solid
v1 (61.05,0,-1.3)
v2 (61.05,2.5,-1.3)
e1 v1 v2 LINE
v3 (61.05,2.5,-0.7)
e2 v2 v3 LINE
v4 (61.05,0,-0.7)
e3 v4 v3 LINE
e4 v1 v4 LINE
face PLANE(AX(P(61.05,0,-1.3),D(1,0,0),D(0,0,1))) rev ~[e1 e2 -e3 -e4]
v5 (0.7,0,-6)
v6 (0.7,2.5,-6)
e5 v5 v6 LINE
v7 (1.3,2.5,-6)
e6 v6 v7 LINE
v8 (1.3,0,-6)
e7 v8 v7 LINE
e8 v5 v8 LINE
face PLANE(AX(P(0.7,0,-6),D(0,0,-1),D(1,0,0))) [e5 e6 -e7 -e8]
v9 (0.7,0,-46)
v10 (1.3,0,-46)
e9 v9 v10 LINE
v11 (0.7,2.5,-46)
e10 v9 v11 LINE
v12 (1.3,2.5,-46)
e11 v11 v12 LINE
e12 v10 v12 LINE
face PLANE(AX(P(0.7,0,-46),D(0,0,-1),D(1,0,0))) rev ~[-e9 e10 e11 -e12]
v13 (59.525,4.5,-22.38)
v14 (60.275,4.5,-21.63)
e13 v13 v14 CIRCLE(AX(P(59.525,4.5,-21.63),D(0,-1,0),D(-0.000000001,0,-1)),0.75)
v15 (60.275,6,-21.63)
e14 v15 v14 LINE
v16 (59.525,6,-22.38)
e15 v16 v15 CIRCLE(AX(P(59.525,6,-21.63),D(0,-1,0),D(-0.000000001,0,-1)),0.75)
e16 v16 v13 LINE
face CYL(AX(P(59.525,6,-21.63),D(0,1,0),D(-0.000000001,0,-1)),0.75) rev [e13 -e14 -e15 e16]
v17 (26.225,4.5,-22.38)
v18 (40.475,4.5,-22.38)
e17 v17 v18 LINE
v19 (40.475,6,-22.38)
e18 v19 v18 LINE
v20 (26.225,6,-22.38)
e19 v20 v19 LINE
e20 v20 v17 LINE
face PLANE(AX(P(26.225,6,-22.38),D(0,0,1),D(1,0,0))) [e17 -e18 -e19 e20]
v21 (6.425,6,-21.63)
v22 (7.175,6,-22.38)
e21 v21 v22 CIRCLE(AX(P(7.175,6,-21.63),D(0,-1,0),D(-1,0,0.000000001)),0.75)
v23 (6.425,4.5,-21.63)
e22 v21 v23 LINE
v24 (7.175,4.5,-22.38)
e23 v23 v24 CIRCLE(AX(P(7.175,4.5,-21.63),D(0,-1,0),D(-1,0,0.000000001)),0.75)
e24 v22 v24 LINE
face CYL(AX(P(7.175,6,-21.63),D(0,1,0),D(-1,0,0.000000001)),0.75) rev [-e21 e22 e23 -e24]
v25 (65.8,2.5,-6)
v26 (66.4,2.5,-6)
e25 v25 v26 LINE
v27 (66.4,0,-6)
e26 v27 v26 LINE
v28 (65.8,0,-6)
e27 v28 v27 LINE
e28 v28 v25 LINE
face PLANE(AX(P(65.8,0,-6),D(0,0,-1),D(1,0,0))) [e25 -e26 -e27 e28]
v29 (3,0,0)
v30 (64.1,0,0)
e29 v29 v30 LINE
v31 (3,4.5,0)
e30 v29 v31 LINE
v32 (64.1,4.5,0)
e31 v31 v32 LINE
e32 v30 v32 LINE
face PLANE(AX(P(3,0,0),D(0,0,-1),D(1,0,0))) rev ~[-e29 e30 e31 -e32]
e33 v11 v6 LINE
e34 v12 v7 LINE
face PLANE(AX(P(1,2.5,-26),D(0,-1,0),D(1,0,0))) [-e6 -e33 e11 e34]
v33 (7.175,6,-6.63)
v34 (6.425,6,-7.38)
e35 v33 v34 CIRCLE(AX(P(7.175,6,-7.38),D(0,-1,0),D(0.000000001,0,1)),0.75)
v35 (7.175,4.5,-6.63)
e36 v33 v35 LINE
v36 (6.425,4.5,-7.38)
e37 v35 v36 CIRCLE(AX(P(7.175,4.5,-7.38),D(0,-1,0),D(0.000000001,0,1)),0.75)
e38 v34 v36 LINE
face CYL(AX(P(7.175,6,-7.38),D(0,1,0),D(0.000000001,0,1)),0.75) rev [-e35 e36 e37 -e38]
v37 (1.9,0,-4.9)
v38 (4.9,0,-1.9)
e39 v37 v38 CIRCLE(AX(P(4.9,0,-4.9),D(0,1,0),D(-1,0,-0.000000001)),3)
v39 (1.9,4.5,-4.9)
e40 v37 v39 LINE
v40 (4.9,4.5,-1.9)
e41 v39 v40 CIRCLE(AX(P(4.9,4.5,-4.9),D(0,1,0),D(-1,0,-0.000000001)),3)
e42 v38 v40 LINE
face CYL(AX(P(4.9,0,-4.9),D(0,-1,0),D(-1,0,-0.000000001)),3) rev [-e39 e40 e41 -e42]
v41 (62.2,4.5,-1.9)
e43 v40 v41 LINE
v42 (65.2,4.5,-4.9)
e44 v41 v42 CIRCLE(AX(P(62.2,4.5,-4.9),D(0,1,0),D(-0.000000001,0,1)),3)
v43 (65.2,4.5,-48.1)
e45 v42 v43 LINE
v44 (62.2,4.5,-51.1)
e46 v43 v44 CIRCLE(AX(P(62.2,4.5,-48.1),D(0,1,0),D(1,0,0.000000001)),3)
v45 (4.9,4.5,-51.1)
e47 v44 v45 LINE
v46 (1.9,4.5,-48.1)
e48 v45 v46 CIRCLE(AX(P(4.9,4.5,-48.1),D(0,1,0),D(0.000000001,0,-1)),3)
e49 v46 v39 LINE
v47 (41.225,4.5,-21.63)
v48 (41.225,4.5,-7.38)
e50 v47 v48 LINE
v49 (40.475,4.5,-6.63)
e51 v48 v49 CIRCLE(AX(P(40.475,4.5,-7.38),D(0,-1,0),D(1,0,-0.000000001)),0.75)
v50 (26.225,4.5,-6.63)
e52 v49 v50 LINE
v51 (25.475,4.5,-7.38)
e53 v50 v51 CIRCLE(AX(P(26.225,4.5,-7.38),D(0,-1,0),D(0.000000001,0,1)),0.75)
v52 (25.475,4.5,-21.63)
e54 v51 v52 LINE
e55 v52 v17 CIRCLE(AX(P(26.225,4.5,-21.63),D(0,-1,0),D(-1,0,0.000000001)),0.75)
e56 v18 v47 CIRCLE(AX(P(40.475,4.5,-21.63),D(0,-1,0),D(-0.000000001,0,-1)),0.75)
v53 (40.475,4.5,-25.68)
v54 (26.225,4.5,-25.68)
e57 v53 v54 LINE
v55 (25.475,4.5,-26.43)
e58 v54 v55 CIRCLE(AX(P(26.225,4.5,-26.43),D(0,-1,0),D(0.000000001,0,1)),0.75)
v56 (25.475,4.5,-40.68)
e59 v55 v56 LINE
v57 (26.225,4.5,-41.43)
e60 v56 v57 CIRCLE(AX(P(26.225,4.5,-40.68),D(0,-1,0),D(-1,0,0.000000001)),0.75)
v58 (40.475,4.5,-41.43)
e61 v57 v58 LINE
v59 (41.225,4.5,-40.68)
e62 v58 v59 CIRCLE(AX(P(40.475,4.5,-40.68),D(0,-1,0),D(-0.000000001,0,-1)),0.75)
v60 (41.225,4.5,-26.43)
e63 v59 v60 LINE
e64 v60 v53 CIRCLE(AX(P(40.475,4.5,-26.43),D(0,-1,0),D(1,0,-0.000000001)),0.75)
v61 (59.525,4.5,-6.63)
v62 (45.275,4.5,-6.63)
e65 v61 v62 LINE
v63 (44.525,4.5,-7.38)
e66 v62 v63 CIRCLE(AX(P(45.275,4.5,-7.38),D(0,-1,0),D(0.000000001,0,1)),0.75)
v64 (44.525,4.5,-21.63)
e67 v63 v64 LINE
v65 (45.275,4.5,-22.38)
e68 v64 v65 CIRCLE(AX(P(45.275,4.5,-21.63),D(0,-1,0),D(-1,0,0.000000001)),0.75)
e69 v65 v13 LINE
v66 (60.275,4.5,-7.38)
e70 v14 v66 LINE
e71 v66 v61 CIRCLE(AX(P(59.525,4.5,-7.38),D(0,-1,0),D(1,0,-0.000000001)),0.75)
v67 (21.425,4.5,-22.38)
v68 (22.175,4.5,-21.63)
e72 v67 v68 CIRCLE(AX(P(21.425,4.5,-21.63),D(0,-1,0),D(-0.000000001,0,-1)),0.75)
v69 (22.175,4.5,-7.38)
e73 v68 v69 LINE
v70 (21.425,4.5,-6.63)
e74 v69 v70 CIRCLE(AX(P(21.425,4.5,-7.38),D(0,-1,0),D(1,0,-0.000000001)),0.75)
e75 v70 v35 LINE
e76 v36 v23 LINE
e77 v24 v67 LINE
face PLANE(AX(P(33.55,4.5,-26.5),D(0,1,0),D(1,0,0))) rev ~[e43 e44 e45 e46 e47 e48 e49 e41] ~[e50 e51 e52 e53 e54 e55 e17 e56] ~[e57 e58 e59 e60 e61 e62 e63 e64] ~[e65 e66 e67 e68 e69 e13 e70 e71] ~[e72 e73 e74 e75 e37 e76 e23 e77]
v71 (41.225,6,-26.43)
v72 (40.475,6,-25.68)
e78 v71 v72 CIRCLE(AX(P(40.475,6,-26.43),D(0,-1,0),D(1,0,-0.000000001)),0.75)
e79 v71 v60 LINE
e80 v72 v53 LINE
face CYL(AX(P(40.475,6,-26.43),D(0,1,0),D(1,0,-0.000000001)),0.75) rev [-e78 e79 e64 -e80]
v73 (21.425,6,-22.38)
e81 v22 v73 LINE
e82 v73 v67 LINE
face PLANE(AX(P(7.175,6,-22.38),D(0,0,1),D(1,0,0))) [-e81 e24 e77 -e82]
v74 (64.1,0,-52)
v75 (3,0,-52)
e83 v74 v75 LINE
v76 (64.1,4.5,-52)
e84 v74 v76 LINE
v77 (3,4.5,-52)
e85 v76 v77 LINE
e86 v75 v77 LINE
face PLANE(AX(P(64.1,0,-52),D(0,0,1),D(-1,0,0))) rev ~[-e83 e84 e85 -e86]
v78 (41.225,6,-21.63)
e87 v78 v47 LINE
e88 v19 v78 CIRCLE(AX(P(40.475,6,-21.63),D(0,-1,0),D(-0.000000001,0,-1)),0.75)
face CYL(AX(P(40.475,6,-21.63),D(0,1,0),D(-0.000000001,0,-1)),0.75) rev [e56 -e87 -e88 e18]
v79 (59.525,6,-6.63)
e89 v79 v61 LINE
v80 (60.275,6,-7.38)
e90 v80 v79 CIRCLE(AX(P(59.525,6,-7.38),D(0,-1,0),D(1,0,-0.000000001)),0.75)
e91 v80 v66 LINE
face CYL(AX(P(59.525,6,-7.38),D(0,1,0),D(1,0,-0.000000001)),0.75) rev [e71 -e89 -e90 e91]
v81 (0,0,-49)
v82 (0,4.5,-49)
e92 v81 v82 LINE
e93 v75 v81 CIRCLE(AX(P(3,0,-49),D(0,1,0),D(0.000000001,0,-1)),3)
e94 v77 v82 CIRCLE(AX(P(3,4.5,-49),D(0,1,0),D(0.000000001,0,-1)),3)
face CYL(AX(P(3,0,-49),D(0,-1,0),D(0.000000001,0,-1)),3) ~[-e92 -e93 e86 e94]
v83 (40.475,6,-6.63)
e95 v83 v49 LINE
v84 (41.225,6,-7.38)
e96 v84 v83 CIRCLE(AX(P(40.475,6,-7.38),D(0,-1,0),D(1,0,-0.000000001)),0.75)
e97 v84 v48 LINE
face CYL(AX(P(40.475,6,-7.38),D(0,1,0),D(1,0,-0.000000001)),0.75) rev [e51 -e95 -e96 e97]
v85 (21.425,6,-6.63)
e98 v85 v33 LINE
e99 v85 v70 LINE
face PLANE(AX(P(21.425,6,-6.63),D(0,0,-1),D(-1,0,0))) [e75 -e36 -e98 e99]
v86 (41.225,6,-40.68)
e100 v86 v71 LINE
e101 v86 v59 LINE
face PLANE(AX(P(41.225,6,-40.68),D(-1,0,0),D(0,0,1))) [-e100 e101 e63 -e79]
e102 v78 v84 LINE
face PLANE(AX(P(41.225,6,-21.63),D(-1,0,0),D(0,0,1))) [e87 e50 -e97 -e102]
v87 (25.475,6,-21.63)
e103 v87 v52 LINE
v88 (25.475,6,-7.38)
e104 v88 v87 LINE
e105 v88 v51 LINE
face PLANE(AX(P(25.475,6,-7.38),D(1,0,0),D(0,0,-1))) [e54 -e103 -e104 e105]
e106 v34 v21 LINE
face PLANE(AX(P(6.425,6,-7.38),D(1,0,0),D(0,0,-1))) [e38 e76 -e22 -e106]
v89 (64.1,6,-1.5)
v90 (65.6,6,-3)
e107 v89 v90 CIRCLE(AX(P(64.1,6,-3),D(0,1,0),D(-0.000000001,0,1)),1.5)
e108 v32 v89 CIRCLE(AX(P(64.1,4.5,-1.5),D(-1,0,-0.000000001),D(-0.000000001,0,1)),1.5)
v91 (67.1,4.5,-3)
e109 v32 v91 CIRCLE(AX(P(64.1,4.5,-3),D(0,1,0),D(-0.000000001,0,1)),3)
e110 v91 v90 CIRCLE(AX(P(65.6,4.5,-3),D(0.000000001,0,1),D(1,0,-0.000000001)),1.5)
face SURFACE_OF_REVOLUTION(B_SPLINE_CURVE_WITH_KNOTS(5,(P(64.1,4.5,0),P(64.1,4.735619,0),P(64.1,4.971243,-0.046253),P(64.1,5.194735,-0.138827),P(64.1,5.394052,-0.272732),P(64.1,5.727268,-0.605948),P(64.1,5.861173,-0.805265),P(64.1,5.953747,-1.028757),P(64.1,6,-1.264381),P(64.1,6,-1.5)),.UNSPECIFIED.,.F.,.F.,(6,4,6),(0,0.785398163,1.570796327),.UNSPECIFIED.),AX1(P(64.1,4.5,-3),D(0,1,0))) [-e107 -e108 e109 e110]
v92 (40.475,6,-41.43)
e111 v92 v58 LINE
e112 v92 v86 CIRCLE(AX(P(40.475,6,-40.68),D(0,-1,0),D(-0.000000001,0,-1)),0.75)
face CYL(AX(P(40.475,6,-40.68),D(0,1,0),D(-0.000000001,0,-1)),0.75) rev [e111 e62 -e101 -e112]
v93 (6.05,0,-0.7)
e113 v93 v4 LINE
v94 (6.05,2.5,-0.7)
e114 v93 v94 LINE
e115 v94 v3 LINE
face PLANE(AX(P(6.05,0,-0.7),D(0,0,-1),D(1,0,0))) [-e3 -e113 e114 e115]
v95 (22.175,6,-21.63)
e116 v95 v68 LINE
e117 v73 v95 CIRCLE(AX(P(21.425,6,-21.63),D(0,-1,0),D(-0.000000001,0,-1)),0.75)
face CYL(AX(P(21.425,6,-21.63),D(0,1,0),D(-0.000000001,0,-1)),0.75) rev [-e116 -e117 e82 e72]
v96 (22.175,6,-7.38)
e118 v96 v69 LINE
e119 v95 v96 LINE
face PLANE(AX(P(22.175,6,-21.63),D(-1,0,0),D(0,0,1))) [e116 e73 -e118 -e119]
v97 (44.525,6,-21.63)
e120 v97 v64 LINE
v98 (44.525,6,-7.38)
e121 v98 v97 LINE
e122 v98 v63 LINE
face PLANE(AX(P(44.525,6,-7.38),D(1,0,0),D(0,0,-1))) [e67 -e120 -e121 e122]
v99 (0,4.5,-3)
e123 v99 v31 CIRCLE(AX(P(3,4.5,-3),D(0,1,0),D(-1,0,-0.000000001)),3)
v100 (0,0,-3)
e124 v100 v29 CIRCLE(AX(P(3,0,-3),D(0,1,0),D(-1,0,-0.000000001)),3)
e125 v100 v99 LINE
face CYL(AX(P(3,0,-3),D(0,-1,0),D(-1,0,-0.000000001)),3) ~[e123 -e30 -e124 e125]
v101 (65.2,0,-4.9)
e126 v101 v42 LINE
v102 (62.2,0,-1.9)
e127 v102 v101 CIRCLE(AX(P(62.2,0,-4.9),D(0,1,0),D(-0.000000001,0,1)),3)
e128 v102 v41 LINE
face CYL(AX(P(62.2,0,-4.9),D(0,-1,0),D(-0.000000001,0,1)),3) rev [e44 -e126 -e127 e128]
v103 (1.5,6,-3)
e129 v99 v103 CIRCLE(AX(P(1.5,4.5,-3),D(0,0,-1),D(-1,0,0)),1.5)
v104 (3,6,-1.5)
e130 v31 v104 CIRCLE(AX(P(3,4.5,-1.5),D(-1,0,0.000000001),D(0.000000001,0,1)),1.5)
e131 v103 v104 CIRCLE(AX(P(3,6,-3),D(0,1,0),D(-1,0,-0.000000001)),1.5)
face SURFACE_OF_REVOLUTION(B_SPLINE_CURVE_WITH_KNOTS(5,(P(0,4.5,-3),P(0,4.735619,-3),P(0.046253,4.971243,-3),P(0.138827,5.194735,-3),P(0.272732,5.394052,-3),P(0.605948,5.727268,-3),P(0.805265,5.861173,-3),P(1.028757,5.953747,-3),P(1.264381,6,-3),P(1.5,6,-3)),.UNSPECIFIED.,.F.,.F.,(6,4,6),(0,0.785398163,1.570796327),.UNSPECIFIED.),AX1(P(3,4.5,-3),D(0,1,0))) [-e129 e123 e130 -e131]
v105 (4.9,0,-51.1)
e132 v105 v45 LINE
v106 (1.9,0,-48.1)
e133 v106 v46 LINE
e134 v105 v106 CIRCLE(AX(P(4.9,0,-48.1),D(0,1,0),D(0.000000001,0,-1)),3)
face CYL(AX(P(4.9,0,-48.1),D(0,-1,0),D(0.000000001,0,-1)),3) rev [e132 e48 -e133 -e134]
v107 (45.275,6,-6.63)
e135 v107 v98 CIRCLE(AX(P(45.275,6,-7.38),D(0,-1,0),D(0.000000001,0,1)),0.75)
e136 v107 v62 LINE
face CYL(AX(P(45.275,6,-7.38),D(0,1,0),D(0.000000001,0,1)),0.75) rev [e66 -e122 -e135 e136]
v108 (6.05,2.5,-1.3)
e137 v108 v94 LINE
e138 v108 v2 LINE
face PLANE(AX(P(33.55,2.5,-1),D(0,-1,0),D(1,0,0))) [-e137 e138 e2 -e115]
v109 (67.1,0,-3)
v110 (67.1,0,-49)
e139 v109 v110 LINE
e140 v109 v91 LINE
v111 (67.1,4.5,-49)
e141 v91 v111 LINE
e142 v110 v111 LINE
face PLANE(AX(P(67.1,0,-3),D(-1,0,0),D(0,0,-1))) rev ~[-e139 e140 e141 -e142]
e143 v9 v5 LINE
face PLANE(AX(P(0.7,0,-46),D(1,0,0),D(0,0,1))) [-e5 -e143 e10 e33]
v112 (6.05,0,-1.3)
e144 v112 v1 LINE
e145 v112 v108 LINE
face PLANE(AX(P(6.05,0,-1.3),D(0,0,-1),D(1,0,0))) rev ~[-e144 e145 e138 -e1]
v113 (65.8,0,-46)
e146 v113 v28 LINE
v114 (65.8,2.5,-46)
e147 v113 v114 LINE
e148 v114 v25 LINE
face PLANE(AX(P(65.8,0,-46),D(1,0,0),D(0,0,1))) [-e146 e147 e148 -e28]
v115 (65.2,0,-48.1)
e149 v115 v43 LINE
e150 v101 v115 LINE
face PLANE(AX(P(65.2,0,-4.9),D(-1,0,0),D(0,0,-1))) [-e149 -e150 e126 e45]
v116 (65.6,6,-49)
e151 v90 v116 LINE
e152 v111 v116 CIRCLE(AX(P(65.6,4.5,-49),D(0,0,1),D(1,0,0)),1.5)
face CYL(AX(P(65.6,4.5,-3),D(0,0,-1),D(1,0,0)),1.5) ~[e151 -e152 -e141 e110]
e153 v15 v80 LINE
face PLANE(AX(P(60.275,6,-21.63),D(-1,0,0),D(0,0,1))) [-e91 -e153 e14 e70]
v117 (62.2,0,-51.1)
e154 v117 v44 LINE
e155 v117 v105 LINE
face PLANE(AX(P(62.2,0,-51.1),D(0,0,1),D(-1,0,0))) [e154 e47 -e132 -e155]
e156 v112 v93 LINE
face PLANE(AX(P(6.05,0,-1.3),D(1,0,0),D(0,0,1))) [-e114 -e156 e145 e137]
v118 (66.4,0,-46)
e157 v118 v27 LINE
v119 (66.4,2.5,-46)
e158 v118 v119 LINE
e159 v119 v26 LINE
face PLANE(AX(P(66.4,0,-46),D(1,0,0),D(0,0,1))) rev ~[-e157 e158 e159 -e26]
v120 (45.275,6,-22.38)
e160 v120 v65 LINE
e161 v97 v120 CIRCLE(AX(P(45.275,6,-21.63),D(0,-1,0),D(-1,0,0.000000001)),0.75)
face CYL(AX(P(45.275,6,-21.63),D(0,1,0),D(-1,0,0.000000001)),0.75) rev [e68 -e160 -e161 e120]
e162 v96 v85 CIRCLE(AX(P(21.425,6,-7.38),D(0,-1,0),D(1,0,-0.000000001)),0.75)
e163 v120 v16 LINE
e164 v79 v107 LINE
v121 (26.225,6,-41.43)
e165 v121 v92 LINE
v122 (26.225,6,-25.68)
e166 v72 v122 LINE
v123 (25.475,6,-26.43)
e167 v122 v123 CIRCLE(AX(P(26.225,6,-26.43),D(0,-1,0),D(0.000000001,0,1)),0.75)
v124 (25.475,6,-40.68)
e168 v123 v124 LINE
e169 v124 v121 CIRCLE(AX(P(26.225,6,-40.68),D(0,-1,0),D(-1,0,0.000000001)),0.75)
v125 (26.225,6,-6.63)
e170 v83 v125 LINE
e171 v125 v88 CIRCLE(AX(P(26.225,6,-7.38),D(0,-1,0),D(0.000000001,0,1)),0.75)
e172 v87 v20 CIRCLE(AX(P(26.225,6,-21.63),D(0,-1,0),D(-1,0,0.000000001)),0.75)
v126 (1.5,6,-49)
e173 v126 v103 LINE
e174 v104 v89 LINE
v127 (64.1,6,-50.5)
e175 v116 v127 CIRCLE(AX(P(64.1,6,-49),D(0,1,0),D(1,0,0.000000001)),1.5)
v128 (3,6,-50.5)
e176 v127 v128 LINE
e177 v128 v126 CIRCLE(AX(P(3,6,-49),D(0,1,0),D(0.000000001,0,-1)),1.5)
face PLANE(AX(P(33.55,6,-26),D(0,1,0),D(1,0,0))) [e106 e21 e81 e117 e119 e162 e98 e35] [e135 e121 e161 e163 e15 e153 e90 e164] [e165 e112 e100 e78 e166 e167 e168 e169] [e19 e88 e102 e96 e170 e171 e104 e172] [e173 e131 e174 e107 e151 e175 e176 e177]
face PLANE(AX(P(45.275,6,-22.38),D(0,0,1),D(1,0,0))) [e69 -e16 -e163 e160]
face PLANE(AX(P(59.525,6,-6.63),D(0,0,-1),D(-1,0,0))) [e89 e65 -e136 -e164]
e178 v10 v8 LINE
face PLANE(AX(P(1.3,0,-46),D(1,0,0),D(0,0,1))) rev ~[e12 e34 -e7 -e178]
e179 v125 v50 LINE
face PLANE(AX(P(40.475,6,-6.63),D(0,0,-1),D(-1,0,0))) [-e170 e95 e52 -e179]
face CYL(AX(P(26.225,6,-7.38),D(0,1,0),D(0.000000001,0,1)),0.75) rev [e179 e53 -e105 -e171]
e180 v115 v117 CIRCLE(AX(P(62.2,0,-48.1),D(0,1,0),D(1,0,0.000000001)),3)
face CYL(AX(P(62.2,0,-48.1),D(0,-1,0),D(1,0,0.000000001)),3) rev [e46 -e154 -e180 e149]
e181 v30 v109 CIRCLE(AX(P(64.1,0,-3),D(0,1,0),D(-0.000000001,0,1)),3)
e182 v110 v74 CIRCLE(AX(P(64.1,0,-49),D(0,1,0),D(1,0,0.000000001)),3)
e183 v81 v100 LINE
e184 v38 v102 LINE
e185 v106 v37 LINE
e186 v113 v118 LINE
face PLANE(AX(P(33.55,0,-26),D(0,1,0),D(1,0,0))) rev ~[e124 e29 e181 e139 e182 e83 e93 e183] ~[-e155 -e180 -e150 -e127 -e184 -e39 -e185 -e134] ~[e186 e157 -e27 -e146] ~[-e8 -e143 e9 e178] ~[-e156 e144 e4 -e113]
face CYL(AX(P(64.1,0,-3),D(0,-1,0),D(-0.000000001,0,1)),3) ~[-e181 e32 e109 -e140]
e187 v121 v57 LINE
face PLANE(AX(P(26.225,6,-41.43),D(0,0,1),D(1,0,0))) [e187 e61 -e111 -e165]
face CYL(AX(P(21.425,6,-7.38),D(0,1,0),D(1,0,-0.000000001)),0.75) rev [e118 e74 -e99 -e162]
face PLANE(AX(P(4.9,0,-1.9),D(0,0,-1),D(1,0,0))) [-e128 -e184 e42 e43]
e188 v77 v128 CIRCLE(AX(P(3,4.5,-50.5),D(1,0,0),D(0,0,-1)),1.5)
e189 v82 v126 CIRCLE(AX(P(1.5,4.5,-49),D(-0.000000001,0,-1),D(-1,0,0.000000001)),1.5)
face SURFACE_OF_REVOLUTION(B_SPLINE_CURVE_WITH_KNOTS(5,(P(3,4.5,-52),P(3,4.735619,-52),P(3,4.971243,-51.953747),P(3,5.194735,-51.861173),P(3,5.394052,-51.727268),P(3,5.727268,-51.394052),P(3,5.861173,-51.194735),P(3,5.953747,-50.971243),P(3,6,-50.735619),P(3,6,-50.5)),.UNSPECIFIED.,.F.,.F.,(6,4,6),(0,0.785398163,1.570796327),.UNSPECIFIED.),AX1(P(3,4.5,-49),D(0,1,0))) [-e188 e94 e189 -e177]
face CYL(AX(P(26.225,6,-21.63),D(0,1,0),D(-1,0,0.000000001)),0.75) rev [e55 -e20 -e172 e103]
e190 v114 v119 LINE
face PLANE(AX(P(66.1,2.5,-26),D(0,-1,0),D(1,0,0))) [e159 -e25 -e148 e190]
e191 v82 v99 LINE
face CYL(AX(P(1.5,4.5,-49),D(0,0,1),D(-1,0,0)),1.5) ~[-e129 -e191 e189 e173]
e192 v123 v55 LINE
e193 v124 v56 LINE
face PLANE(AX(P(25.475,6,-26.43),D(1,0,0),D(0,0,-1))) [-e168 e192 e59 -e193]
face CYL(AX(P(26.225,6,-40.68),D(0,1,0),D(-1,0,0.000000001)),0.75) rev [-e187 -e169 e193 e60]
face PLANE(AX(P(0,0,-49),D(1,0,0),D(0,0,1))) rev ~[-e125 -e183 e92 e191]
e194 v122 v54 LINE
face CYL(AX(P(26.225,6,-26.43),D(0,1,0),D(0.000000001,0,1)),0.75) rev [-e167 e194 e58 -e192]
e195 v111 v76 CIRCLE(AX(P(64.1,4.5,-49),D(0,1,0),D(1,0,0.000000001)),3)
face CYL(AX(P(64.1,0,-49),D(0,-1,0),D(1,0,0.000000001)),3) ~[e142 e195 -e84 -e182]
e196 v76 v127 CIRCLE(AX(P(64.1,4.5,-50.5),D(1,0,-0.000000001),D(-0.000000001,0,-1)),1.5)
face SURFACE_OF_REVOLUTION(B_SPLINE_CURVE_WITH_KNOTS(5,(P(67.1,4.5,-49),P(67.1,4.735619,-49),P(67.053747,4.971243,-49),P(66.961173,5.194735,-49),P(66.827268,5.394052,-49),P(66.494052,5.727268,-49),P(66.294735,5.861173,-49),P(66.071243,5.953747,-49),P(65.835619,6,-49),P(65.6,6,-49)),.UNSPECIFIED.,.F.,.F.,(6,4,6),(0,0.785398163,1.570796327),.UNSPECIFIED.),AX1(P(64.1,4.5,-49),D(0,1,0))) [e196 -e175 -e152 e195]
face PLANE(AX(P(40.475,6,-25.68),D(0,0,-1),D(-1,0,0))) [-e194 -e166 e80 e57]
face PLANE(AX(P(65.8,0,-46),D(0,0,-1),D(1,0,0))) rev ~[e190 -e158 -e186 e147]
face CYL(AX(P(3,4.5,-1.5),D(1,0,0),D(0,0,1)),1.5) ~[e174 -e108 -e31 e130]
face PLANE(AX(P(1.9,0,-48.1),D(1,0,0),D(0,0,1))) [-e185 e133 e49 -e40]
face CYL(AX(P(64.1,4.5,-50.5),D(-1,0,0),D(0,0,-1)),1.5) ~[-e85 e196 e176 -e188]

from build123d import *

# Parameters (mm, degrees)
BOSS_EXTRUDE1_DEPTH = 6
CUT_EXTRUDE1_DEPTH  = 4.5
CUT_EXTRUDE2_DEPTH  = 1.5
FILLET1_R           = 1.5
SKETCH4_W           = 0.6
SKETCH4_H           = 40
SKETCH4_W_2         = 55
SKETCH4_H_2         = 0.6
CUT_EXTRUDE3_DEPTH  = 2.5


with BuildPart() as part:
    # Sketch1 → Boss-Extrude1 (new body)
    with BuildSketch(Plane(origin=(0, 0, 0), x_dir=(1, 0, 0), z_dir=(0, 1, 0))):
        with BuildLine():
            Line((3, 0), (64.1, 0))
            ThreePointArc((64.1, 0), (66.221320344, 0.878679656), (67.1, 3))
            Line((67.1, 3), (67.1, 49))
            ThreePointArc((67.1, 49), (66.221320344, 51.121320344), (64.1, 52))
            Line((64.1, 52), (3, 52))
            ThreePointArc((3, 52), (0.878679656, 51.121320344), (0, 49))
            Line((0, 49), (0, 3))
            ThreePointArc((0, 3), (0.878679656, 0.878679656), (3, 0))
        make_face()
    extrude(amount=BOSS_EXTRUDE1_DEPTH)

    # Sketch2 → Cut-Extrude1 (cut)
    with BuildSketch(Plane(origin=(0, 0, 0), x_dir=(-1, 0, 0), z_dir=(0, -1, 0))):
        with BuildLine():
            Line((-4.9, 1.9), (-62.2, 1.9))
            ThreePointArc((-62.2, 1.9), (-64.321320344, 2.778679656), (-65.2, 4.9))
            Line((-65.2, 4.9), (-65.2, 48.1))
            ThreePointArc((-65.2, 48.1), (-64.321320344, 50.221320344), (-62.2, 51.1))
            Line((-62.2, 51.1), (-4.9, 51.1))
            ThreePointArc((-4.9, 51.1), (-2.778679656, 50.221320344), (-1.9, 48.1))
            Line((-1.9, 48.1), (-1.9, 4.9))
            ThreePointArc((-1.9, 4.9), (-2.778679656, 2.778679656), (-4.9, 1.9))
        make_face()
    extrude(amount=-CUT_EXTRUDE1_DEPTH, mode=Mode.SUBTRACT)

    # Sketch3 → Cut-Extrude2 (cut)
    with BuildSketch(Plane(origin=(0, 6, 0), x_dir=(1, 0, 0), z_dir=(0, 1, 0))):
        with BuildLine():
            Line((26.225, 41.43), (40.475, 41.43))
            ThreePointArc((40.475, 41.43), (41.005330086, 41.210330086), (41.225, 40.68))
            Line((41.225, 40.68), (41.225, 26.43))
            ThreePointArc((41.225, 26.43), (41.005330086, 25.899669914), (40.475, 25.68))
            Line((40.475, 25.68), (26.225, 25.68))
            ThreePointArc((26.225, 25.68), (25.694669914, 25.899669914), (25.475, 26.43))
            Line((25.475, 26.43), (25.475, 40.68))
            ThreePointArc((25.475, 40.68), (25.694669914, 41.210330086), (26.225, 41.43))
        make_face()
        with BuildLine():
            Line((7.175, 22.38), (21.425, 22.38))
            ThreePointArc((21.425, 22.38), (21.955330086, 22.160330086), (22.175, 21.63))
            Line((22.175, 21.63), (22.175, 7.38))
            ThreePointArc((22.175, 7.38), (21.955330086, 6.849669914), (21.425, 6.63))
            Line((21.425, 6.63), (7.175, 6.63))
            ThreePointArc((7.175, 6.63), (6.644669914, 6.849669914), (6.425, 7.38))
            Line((6.425, 7.38), (6.425, 21.63))
            ThreePointArc((6.425, 21.63), (6.644669914, 22.160330086), (7.175, 22.38))
        make_face()
        with BuildLine():
            Line((26.225, 22.38), (40.475, 22.38))
            ThreePointArc((40.475, 22.38), (41.005330086, 22.160330086), (41.225, 21.63))
            Line((41.225, 21.63), (41.225, 7.38))
            ThreePointArc((41.225, 7.38), (41.005330086, 6.849669914), (40.475, 6.63))
            Line((40.475, 6.63), (26.225, 6.63))
            ThreePointArc((26.225, 6.63), (25.694669914, 6.849669914), (25.475, 7.38))
            Line((25.475, 7.38), (25.475, 21.63))
            ThreePointArc((25.475, 21.63), (25.694669914, 22.160330086), (26.225, 22.38))
        make_face()
        with BuildLine():
            Line((45.275, 22.38), (59.525, 22.38))
            ThreePointArc((59.525, 22.38), (60.055330086, 22.160330086), (60.275, 21.63))
            Line((60.275, 21.63), (60.275, 7.38))
            ThreePointArc((60.275, 7.38), (60.055330086, 6.849669914), (59.525, 6.63))
            Line((59.525, 6.63), (45.275, 6.63))
            ThreePointArc((45.275, 6.63), (44.744669914, 6.849669914), (44.525, 7.38))
            Line((44.525, 7.38), (44.525, 21.63))
            ThreePointArc((44.525, 21.63), (44.744669914, 22.160330086), (45.275, 22.38))
        make_face()
    extrude(amount=-CUT_EXTRUDE2_DEPTH, mode=Mode.SUBTRACT)

    # Fillet1
    fillet1_edges = [part.edges().sort_by_distance(p)[0] for p in [
        (66.221320344, 6, -0.878679656),
        (67.1, 6, -26),
        (66.221320344, 6, -51.121320344),
        (33.55, 6, -52),
        (0.878679656, 6, -51.121320344),
        (0, 6, -26),
        (0.878679656, 6, -0.878679656),
        (33.55, 6, 0),
    ]]
    fillet(fillet1_edges, radius=FILLET1_R)

    # Sketch4 → Cut-Extrude3 (cut)
    with BuildSketch(Plane.XZ):
        with Locations((1, -26)):
            Rectangle(SKETCH4_W, SKETCH4_H)
        with Locations((33.55, -1)):
            Rectangle(SKETCH4_W_2, SKETCH4_H_2)
        with Locations((66.1, -26)):
            Rectangle(SKETCH4_W, SKETCH4_H)
    extrude(amount=-CUT_EXTRUDE3_DEPTH, mode=Mode.SUBTRACT)


solid = part.part
